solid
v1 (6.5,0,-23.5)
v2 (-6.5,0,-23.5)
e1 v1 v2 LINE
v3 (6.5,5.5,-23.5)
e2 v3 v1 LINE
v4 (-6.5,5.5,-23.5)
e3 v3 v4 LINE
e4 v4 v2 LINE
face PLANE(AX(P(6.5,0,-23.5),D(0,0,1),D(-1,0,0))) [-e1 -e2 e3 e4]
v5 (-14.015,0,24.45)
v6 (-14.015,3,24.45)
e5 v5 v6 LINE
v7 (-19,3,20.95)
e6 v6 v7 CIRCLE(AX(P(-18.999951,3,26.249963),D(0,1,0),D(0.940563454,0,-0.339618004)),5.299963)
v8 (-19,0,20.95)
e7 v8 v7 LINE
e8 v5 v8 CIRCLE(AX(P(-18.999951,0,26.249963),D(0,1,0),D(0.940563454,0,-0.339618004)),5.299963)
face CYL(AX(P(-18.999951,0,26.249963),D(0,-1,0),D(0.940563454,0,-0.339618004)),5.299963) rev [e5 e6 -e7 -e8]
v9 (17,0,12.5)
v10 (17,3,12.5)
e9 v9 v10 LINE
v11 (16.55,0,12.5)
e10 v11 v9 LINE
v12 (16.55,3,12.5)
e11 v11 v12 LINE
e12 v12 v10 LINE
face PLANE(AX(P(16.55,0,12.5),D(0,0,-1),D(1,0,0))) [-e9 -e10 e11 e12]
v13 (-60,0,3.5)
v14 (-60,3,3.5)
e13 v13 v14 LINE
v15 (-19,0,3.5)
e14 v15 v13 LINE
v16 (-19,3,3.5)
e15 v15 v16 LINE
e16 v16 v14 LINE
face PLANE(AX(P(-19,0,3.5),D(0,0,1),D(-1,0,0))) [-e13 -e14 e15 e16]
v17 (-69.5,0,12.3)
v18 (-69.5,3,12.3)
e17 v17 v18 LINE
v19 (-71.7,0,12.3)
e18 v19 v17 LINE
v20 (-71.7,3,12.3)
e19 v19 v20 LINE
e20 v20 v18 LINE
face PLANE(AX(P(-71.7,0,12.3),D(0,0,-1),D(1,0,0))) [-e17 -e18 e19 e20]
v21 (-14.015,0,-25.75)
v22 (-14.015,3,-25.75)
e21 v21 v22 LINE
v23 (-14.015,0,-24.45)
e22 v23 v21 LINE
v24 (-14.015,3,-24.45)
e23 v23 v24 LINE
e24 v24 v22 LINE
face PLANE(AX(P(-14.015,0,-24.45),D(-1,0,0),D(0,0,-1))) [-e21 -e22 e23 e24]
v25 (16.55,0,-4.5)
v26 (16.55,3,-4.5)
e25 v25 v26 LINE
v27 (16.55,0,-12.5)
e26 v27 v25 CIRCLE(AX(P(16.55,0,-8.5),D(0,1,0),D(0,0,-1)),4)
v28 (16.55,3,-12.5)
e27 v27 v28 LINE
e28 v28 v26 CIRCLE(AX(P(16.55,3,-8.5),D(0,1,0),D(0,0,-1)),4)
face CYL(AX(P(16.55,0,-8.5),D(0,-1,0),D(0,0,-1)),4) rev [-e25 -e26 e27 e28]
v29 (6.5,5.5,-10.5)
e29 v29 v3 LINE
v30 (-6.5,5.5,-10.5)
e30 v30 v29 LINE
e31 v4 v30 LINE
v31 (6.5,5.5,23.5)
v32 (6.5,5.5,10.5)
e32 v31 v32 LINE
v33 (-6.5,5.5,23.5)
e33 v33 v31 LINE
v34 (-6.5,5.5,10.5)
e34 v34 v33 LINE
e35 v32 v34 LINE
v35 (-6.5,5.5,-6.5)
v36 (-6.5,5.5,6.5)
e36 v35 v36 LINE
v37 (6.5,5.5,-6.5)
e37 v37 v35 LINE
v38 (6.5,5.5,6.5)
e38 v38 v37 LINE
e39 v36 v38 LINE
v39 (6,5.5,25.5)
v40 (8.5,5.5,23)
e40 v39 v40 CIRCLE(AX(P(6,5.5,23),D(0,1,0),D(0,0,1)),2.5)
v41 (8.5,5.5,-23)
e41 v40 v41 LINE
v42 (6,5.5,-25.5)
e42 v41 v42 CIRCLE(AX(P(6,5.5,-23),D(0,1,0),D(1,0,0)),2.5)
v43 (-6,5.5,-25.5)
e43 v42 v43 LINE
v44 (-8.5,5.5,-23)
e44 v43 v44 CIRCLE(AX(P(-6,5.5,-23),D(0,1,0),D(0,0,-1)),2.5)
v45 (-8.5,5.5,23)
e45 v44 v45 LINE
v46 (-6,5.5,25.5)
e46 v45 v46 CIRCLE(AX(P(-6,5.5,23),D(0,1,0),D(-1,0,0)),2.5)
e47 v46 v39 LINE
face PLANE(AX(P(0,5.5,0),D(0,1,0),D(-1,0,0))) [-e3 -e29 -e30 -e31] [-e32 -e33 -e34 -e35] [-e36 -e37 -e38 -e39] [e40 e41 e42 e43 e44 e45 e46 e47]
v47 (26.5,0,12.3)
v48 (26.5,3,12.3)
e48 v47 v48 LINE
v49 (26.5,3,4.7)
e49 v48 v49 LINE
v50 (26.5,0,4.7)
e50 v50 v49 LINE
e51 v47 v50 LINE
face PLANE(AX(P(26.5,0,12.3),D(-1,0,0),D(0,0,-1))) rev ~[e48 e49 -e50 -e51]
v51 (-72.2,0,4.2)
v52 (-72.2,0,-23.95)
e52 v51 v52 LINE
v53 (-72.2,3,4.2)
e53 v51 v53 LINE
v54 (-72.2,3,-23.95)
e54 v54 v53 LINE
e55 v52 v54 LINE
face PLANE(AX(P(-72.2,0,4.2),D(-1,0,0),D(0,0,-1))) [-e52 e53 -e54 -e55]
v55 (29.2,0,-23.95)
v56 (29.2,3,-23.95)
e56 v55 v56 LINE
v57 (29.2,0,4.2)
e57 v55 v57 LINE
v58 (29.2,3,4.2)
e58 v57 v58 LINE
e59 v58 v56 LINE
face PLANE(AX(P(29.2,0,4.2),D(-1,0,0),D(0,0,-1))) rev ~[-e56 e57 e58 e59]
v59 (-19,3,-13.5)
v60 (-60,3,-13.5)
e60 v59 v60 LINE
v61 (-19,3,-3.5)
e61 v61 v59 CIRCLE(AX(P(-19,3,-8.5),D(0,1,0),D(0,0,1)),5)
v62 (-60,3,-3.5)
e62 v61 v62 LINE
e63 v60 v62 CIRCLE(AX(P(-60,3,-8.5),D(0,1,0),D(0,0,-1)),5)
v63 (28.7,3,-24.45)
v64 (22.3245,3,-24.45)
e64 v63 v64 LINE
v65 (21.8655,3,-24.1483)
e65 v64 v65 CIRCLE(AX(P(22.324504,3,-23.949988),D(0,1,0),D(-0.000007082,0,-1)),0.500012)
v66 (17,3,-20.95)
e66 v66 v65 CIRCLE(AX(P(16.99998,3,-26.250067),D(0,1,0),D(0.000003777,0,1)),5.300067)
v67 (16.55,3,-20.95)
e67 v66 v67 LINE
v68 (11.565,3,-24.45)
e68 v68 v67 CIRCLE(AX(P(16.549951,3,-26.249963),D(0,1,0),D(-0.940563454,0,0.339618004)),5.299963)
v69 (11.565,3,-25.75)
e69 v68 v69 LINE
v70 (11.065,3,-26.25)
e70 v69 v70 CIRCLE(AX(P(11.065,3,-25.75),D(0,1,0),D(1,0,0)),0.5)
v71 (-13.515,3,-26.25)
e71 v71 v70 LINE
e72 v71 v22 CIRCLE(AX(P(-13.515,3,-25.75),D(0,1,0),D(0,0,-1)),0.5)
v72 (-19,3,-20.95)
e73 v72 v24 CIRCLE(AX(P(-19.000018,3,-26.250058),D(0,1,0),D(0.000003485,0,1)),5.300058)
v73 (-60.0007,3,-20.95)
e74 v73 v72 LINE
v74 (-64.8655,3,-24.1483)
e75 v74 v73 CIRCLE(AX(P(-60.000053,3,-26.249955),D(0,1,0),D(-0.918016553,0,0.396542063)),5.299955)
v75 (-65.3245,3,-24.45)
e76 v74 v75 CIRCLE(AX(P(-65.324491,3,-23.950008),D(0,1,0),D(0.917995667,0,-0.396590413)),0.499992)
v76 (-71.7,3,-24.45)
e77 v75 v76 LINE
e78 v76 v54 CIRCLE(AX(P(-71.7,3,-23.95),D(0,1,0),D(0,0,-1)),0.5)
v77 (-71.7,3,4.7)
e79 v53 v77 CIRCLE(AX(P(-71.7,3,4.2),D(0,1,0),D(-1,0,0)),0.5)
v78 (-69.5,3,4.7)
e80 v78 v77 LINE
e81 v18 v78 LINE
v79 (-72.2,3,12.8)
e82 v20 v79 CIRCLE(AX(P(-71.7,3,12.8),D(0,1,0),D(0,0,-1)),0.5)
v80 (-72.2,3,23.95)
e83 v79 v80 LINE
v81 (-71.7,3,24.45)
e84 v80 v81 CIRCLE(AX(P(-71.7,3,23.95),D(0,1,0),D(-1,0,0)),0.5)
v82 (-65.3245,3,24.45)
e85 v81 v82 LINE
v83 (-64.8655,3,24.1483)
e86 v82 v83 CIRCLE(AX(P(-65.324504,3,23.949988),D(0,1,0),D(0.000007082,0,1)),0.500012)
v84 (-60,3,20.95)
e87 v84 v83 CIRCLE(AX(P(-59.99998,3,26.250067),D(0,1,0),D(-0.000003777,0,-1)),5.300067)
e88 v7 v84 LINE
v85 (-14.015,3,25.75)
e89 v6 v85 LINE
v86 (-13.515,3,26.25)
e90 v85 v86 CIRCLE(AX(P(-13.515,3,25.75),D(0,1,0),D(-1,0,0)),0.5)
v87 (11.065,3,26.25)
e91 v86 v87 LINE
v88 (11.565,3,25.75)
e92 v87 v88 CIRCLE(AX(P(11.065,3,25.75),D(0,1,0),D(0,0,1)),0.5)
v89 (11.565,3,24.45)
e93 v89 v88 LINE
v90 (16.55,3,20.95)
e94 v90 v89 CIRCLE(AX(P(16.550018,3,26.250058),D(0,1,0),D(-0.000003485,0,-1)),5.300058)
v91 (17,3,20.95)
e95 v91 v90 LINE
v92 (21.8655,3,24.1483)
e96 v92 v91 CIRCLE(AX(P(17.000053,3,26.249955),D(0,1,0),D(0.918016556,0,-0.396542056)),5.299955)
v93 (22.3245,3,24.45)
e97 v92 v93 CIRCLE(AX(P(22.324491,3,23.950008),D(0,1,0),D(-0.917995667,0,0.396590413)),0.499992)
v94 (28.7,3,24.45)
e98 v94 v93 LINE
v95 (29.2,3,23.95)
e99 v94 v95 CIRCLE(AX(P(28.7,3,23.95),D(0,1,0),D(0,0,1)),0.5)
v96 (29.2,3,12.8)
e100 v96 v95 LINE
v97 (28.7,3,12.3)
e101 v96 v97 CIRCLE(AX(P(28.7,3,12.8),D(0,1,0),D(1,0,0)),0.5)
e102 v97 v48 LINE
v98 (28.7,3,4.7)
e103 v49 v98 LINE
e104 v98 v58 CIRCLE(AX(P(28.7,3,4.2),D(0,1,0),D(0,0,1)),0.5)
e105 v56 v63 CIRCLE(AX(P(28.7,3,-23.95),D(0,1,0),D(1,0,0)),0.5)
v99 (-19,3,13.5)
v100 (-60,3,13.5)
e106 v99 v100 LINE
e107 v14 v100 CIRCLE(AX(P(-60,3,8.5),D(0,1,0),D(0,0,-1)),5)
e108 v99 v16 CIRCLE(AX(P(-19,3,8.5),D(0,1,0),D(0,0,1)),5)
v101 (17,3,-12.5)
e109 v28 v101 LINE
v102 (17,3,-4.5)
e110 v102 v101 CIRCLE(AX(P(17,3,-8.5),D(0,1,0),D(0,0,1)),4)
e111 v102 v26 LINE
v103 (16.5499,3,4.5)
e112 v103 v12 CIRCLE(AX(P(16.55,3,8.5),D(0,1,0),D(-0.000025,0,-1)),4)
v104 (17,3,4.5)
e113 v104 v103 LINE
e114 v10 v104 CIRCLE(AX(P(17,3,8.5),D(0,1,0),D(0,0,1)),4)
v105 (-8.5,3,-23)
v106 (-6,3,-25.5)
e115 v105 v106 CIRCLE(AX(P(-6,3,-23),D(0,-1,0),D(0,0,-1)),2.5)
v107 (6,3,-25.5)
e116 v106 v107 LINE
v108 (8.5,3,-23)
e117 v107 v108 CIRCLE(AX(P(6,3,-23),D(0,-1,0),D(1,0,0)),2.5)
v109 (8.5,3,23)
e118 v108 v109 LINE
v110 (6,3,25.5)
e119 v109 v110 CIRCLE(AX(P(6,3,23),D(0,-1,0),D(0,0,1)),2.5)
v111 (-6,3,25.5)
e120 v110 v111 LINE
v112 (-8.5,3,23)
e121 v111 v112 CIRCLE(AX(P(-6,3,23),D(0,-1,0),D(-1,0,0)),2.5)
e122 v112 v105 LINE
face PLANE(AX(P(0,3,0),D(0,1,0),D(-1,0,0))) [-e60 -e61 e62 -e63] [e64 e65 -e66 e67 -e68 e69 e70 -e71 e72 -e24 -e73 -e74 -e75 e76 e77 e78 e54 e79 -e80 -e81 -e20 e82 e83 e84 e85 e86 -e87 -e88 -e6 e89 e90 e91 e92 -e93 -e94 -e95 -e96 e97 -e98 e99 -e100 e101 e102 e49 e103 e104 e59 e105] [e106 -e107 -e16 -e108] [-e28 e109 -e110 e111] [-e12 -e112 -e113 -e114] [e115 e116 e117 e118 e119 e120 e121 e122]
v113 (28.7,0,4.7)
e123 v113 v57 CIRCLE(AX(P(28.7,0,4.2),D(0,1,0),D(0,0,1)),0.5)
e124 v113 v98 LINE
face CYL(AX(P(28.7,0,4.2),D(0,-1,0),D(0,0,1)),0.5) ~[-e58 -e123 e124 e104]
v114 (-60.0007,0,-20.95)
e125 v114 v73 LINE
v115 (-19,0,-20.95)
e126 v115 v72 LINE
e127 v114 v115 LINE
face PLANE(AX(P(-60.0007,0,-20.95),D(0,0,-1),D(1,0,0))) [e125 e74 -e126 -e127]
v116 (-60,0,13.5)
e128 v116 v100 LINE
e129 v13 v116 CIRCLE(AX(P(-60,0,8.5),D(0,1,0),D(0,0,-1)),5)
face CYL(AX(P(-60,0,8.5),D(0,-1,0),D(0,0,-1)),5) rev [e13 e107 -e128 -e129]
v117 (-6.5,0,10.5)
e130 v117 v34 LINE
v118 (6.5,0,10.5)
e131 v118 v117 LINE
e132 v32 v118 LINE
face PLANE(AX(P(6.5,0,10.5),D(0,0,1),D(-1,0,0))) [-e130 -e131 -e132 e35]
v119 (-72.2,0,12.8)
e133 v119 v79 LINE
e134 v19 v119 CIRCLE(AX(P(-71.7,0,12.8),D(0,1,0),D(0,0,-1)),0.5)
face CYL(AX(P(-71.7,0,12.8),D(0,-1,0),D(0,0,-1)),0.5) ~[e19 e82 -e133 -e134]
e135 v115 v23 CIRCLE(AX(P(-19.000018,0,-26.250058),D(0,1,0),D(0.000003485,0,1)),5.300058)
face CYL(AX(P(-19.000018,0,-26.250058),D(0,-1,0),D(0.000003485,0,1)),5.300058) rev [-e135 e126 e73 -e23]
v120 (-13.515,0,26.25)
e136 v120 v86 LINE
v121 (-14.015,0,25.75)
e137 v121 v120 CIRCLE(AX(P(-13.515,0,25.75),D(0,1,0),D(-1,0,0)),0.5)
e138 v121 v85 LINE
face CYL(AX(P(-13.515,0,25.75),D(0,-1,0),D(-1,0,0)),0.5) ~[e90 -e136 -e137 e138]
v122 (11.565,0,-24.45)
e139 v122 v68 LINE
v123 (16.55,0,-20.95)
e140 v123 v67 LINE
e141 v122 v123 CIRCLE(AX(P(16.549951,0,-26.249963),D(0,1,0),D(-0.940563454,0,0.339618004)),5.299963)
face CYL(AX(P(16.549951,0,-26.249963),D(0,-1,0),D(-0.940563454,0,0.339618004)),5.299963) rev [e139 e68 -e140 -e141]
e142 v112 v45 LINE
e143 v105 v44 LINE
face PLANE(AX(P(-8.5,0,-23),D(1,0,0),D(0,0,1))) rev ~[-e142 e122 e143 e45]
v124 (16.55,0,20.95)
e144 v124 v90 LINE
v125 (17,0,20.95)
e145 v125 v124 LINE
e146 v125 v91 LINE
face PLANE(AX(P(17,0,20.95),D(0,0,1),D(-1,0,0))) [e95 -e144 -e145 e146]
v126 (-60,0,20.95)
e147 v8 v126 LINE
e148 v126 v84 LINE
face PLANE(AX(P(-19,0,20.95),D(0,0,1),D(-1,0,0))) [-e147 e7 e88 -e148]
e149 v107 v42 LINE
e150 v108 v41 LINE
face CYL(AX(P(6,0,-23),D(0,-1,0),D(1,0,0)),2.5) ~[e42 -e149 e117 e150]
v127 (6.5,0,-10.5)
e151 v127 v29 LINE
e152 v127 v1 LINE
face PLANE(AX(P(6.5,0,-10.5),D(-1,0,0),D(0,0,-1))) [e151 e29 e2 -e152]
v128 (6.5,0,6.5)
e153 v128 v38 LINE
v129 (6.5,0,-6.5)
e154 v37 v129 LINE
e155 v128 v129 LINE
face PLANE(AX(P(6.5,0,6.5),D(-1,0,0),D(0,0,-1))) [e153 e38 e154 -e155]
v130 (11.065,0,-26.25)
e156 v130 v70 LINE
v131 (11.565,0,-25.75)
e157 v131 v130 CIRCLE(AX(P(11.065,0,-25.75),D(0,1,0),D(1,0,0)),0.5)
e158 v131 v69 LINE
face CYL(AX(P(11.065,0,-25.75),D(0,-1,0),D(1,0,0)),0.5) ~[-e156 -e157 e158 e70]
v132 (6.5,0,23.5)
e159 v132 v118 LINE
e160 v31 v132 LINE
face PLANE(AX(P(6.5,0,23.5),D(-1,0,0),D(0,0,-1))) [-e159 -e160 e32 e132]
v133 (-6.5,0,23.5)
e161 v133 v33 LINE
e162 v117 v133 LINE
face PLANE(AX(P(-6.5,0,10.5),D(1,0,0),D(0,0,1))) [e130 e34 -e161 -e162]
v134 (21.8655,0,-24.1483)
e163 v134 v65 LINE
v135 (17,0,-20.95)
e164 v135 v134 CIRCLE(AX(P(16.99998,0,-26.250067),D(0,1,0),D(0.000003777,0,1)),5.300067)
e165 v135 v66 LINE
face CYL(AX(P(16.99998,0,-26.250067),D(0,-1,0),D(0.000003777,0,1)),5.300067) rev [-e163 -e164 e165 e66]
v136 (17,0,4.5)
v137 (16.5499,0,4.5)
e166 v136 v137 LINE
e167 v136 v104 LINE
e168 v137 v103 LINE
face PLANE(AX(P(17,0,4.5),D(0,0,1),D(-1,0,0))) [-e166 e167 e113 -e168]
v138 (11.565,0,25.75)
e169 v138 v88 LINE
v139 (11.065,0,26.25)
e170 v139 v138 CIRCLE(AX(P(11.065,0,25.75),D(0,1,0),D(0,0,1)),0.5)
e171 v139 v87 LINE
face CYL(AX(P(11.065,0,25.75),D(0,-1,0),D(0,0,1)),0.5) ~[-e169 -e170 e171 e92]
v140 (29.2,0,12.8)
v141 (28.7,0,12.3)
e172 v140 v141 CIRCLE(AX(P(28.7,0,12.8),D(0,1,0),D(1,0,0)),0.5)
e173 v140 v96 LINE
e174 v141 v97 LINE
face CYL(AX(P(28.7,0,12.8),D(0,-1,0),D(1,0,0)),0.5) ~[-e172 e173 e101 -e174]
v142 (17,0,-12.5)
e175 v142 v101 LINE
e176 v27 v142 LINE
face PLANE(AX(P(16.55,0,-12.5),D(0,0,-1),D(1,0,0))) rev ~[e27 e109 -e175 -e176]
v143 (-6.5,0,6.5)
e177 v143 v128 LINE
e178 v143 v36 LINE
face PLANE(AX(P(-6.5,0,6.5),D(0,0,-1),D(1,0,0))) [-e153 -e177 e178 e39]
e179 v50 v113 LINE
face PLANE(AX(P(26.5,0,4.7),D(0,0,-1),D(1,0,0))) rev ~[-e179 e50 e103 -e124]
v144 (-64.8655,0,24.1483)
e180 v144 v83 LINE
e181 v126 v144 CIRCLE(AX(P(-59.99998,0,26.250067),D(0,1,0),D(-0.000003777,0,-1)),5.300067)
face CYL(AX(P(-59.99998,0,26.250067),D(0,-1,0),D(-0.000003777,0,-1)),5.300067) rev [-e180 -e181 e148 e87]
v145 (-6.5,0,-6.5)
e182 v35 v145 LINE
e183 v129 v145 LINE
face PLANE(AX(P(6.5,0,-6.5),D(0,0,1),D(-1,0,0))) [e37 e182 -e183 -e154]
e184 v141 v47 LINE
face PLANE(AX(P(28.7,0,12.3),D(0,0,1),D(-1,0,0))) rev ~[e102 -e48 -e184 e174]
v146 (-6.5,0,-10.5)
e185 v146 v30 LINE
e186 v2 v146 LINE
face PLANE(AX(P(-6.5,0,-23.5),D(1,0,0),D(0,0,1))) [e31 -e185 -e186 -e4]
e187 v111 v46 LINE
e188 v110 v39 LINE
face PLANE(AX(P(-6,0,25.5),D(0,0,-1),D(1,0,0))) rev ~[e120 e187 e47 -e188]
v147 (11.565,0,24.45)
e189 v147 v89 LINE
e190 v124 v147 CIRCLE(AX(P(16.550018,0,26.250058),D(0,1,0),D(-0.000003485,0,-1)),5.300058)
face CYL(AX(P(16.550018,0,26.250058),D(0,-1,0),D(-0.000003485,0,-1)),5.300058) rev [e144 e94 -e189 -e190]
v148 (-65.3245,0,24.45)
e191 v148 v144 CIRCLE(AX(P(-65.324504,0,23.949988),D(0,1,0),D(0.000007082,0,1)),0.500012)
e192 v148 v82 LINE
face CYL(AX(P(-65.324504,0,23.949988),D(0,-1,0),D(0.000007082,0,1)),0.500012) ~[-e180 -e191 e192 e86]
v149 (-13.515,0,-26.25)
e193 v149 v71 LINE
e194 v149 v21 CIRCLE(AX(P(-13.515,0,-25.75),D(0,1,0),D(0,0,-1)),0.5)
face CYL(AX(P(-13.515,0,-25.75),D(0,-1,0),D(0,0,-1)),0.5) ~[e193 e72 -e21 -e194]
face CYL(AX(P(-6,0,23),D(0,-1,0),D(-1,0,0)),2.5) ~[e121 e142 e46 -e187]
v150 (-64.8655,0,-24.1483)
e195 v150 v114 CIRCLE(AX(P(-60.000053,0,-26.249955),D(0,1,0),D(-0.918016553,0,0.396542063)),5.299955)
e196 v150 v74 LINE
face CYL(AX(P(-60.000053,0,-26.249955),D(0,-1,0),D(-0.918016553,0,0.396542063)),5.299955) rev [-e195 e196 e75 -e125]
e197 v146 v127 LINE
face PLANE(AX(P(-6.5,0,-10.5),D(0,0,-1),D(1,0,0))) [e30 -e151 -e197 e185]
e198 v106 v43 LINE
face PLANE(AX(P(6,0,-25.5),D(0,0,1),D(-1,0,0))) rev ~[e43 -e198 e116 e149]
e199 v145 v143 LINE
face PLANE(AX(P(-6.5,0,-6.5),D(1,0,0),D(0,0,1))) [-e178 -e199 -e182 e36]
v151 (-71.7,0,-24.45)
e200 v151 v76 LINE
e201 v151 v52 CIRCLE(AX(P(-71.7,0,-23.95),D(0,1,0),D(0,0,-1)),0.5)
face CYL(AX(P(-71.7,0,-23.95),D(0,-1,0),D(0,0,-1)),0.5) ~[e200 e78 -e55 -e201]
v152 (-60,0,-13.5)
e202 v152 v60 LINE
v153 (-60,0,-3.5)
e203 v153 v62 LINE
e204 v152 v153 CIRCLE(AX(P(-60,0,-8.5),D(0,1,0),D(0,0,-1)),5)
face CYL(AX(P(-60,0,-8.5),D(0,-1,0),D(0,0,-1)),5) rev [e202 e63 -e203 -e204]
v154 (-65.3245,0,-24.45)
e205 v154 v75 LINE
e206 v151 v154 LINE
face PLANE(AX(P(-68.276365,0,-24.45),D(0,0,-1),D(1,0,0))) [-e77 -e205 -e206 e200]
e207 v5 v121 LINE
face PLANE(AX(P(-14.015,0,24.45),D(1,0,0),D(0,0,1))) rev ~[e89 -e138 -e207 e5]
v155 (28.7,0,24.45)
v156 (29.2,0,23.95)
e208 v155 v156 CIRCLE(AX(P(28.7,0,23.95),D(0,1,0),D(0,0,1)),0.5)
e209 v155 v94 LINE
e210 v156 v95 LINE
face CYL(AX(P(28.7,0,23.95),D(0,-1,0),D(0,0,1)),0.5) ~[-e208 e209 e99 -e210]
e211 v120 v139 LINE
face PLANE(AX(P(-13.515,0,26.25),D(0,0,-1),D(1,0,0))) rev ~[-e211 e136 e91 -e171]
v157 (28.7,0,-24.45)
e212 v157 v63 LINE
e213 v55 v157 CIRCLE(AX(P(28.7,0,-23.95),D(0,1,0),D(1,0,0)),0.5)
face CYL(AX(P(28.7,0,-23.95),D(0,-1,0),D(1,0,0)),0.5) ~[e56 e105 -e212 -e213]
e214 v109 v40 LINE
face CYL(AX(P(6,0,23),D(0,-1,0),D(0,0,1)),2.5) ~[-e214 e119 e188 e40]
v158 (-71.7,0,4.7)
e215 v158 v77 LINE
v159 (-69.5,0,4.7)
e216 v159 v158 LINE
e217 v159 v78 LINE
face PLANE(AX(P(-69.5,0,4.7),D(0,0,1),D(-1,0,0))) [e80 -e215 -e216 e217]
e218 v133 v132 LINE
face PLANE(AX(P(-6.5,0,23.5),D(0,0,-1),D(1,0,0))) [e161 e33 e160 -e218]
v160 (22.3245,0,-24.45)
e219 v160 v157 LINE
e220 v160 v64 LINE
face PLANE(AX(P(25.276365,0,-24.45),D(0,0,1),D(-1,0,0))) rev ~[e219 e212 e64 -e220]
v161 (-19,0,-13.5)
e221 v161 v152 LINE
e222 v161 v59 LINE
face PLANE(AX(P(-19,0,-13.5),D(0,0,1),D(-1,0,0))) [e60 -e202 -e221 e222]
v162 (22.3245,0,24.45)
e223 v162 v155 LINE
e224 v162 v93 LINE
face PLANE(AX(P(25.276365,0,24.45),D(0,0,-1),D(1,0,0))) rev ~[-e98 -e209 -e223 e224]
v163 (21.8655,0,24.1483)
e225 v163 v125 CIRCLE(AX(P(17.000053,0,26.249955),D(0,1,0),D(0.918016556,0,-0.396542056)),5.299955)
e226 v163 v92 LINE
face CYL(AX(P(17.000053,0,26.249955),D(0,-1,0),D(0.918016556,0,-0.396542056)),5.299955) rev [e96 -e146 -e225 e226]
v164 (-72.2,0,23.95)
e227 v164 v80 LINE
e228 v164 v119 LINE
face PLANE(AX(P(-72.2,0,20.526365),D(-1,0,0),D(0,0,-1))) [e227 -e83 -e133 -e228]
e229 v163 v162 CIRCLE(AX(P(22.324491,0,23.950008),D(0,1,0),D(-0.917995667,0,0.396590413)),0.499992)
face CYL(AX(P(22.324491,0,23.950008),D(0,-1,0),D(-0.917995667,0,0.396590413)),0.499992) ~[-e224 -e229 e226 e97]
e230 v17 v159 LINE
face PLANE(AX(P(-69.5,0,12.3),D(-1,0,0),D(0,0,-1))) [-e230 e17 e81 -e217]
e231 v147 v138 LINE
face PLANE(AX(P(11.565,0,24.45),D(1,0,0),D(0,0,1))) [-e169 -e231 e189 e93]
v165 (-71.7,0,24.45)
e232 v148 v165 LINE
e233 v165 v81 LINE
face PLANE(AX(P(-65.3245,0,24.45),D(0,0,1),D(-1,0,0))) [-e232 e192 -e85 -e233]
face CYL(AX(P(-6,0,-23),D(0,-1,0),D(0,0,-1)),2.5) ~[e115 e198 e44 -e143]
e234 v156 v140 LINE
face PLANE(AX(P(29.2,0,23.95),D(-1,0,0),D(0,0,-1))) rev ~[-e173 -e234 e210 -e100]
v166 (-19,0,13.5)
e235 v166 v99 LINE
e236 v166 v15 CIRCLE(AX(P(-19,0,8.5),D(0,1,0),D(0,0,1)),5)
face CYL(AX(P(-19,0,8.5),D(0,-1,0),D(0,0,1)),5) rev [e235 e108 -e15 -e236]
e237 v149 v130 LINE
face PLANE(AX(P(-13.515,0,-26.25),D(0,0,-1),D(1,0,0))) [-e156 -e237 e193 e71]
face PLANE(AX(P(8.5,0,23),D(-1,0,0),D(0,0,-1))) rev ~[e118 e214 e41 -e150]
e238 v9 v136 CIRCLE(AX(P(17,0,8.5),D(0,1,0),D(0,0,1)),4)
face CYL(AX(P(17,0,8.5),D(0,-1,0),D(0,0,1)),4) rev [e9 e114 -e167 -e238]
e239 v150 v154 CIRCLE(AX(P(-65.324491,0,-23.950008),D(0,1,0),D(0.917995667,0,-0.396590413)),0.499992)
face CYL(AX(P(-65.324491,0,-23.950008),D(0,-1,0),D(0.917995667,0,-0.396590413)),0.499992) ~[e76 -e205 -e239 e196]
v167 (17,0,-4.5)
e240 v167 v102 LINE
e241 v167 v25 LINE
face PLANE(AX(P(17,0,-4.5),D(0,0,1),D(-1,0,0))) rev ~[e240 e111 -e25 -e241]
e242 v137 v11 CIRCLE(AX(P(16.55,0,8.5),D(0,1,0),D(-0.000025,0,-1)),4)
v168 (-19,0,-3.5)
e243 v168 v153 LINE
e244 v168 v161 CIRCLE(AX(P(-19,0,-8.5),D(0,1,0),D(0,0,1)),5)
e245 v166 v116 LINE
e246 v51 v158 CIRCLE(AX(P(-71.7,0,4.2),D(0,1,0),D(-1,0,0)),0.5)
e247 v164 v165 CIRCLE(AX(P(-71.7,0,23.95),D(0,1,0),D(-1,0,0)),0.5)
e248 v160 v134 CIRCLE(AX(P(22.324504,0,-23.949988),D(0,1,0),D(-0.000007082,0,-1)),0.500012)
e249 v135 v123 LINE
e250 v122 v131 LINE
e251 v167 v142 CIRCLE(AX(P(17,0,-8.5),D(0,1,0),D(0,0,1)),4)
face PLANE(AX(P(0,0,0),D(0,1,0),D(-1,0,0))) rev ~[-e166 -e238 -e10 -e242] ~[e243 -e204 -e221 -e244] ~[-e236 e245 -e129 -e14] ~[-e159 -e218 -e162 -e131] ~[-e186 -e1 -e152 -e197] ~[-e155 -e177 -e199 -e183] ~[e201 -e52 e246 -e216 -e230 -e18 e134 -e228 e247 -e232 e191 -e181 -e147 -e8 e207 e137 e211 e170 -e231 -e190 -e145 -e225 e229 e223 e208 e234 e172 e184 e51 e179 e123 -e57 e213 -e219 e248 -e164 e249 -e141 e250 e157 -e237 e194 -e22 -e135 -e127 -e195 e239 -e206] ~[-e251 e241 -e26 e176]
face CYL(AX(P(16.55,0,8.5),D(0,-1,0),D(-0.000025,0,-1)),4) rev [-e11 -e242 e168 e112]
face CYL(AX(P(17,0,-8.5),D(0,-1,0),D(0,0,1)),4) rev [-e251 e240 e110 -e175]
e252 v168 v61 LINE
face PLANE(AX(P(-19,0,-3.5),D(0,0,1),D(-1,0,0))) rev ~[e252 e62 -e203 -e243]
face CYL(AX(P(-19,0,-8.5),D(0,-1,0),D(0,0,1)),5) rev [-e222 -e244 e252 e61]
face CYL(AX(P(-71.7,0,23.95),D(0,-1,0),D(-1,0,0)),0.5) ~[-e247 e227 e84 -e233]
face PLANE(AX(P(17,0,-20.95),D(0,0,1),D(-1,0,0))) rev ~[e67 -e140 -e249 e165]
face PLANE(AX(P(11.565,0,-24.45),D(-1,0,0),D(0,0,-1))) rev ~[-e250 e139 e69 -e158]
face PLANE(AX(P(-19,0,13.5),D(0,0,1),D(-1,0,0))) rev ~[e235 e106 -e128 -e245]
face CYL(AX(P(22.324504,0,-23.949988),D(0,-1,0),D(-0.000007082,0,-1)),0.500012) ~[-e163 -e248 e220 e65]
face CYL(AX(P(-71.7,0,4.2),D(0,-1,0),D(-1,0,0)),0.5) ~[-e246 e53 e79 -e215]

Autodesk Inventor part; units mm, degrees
ref_plane "YZ Plane" through (0, 0, 0) normal (1, 0, 0) x (0, 1, 0)
ref_plane "XZ Plane" through (0, 0, 0) normal (0, 1, 0) x (-1, 0, 0)
ref_plane "XY Plane" through (0, 0, 0) normal (0, 0, 1) x (1, 0, 0)
sketch "Sketch1" plane through (0, 0, 0) normal (0, 1, 0) x (-1, 0, 0)
  line L0 (6.5, 23.5) -> (-6.5, 23.5)
  line L1 (-6.5, 23.5) -> (-6.5, 10.5)
  line L2 (-6.5, 10.5) -> (6.5, 10.5)
  line L3 (6.5, 10.5) -> (6.5, 23.5)
  line L4 (56.9183, 17) -> (21.35, 17) construction
  line L5 (69.8, -24.75) -> (69.8, -20.1) construction
  line L6 (-26.8, 24.75) -> (-26.8, -24.75) construction
  line L7 (9, 15.5) -> (6.5, 15.5) construction
  line L8 (6.5, 18.5) -> (9, 18.5) construction
  line L9 (-6.5, 15.5) -> (-9, 15.5) construction
  line L10 (-9, 18.5) -> (-6.5, 18.5) construction
  line L11 (-11.8, 18.5) -> (-24.5, 18.5) construction
  line L12 (-11.8, 15.5) -> (-24.5, 15.5) construction
  line L13 (-31, 8.5) -> (74, 8.5) construction
  line L14 (67.5, 20.5) -> (66, 20.5) construction
  line L15 (66, 13.5) -> (67.5, 13.5) construction
  line L16 (-31, 26.25) -> (-31, -26.25) construction
  line L17 (21.35, -8.5) -> (74, -8.5) construction
  line L18 (0, 20.0147) -> (0, -26.25) construction
  line L19 (56.8064, 0) -> (21.35, 0) construction
  line L20 (-6.5, 6.5) -> (-6.5, -6.5)
  line L21 (6.5, 6.5) -> (-6.5, 6.5)
  line L22 (6.5, -6.5) -> (6.5, 6.5)
  line L23 (-6.5, -6.5) -> (6.5, -6.5)
  line L24 (6.5, 1.5) -> (9, 1.5) construction
  line L25 (9, -1.5) -> (6.5, -1.5) construction
  line L26 (67.5, 3.5) -> (66, 3.5) construction
  line L27 (66, -3.5) -> (67.5, -3.5) construction
  line L28 (-6.5, -10.5) -> (-6.5, -23.5)
  line L29 (6.5, -10.5) -> (-6.5, -10.5)
  line L30 (6.5, -23.5) -> (6.5, -10.5)
  line L31 (-6.5, -23.5) -> (6.5, -23.5)
  line L32 (56.3008, -17) -> (21.35, -17) construction
  line L33 (67.5, -13.5) -> (66, -13.5) construction
  line L34 (66, -20.5) -> (67.5, -20.5) construction
  line L35 (9, -18.5) -> (6.5, -18.5) construction
  line L36 (6.5, -15.5) -> (9, -15.5) construction
  line L37 (74, 5) -> (72.5, 5) construction
  line L38 (69.8, 12) -> (72.5, 12) construction
  line L39 (-9, -15.5) -> (-6.5, -15.5) construction
  line L40 (-6.5, -18.5) -> (-9, -18.5) construction
  line L41 (-11.8, -18.5) -> (-24.5, -18.5) construction
  line L42 (-9, 1.5) -> (-6.5, 1.5) construction
  line L43 (-6.5, -1.5) -> (-9, -1.5) construction
  line L44 (-11.8, -1.5) -> (-24.5, -1.5) construction
  line L45 (-29.5, 5) -> (-31, 5) construction
  line L46 (-31, 12) -> (-29.5, 12) construction
  line L47 (67.5, 5.5) -> (66, 5.5) construction
  line L48 (66, 5.5) -> (66, 11.5) construction
  line L49 (66, 11.5) -> (67.5, 11.5) construction
  line L50 (-24.5, 5.5) -> (-23.5, 5.5) construction
  line L51 (-23.5, 5.5) -> (-23.5, 11.5) construction
  line L52 (-23.5, 11.5) -> (-24.5, 11.5) construction
  line L53 (-25, 24.75) -> (-25, 19) construction
  line L54 (-25, 5) -> (-25, 2) construction
  arc A0 (19, 13.5) -> (19, 3.5) centre (19, 8.5) ccw
  arc A1 (60, 3.5) -> (60, 13.5) centre (60, 8.5) ccw
  arc A2 (19, -3.5) -> (19, -13.5) centre (19, -8.5) ccw
  arc A3 (60, -13.5) -> (60, -3.5) centre (60, -8.5) ccw
  line L55 (19, 13.5) -> (60, 13.5)
  line L56 (19, 3.5) -> (60, 3.5)
  line L57 (19, -3.5) -> (60, -3.5)
  line L58 (19, -13.5) -> (60, -13.5)
  arc A4 (-16.55, -12.5) -> (-16.55, -4.5) centre (-16.55, -8.5) ccw
  line L59 (72.5, -24.75) -> (72.5, -19.6) construction
  line L60 (-29.5, 24.75) -> (-29.5, 12) construction
  arc A5 (-17, -4.5) -> (-17, -12.5) centre (-17, -8.5) ccw
  arc A6 (-17, 12.5) -> (-17, 4.5) centre (-17, 8.5) ccw
  line L61 (-16.55, -12.5) -> (-17, -12.5)
  line L62 (-17, -4.5) -> (-16.55, -4.5)
  line L63 (-17, 4.5) -> (-16.5499, 4.5)
  line L64 (-16.55, 12.5) -> (-17, 12.5)
  arc A7 (-16.5499, 4.5) -> (-16.55, 12.5) centre (-16.55, 8.5) ccw
  line L65 (58.8763, -15.5) -> (11.8, -15.5) construction
  line L66 (58.8763, -18.5) -> (11.8, -18.5) construction
  line L67 (58.8763, -1.5) -> (11.8, -1.5) construction
  line L68 (58.8763, 1.5) -> (11.8, 1.5) construction
  line L69 (58.8763, 15.5) -> (11.8, 15.5) construction
  line L70 (58.8763, 18.5) -> (11.8, 18.5) construction
  arc A8 (61, -14.4) -> (58.8763, -15.5) centre (61, -17) ccw construction
  arc A9 (58.8763, -18.5) -> (61, -19.6) centre (61, -17) ccw construction
  arc A10 (61, 2.6) -> (58.8763, 1.5) centre (61, 0) ccw construction
  arc A11 (58.8763, -1.5) -> (61, -2.6) centre (61, 0) ccw construction
  arc A12 (61, 19.6) -> (58.8763, 18.5) centre (61, 17) ccw construction
  arc A13 (58.8763, 15.5) -> (61, 14.4) centre (61, 17) ccw construction
  arc A14 (63.5, -26.25) -> (60, -22.75) centre (60, -26.25) ccw construction
  arc A15 (19, -22.75) -> (15.5, -26.25) centre (19, -26.25) ccw construction
  arc A16 (64.7697, -24.75) -> (60, -21.25) centre (60, -26.25) ccw construction
  line L71 (60, -21.25) -> (19, -21.25) construction
  line L72 (63.5, -26.25) -> (74, -26.25) construction
  line L73 (60, -22.75) -> (19, -22.75) construction
  arc A17 (19, -21.25) -> (14.2303, -24.75) centre (19, -26.25) ccw construction
  arc A18 (14.2303, 24.75) -> (19, 21.25) centre (19, 26.25) ccw construction
  arc A19 (15.5, 26.25) -> (19, 22.75) centre (19, 26.25) ccw construction
  line L74 (60, 22.75) -> (19, 22.75) construction
  line L75 (60, 21.25) -> (19, 21.25) construction
  line L76 (64.7697, 24.75) -> (69.8, 24.75) construction
  line L77 (74, 26.25) -> (63.5, 26.25) construction
  arc A20 (60, 22.75) -> (63.5, 26.25) centre (60, 26.25) ccw construction
  arc A21 (60, 21.25) -> (64.7697, 24.75) centre (60, 26.25) ccw construction
  arc A22 (-13.05, -26.25) -> (-16.55, -22.75) centre (-16.55, -26.25) ccw construction
  arc A23 (-17, -22.75) -> (-20.5, -26.25) centre (-17, -26.25) ccw construction
  line L78 (-16.55, -21.25) -> (-17, -21.25) construction
  line L79 (-16.55, -22.75) -> (-17, -22.75) construction
  arc A24 (-17, -21.25) -> (-21.7697, -24.75) centre (-17, -26.25) ccw construction
  arc A25 (-11.7803, -24.75) -> (-16.55, -21.25) centre (-16.55, -26.25) ccw construction
  line L80 (14.2303, -24.75) -> (-11.7803, -24.75) construction
  line L81 (-21.7697, -24.75) -> (-29.5, -24.75) construction
  line L82 (-31, -26.25) -> (-20.5, -26.25) construction
  line L83 (-13.05, -26.25) -> (15.5, -26.25) construction
  line L84 (-16.55, 21.25) -> (-17, 21.25) construction
  line L85 (-16.55, 22.75) -> (-17, 22.75) construction
  arc A26 (-20.5, 26.25) -> (-17, 22.75) centre (-17, 26.25) ccw construction
  arc A27 (-16.55, 22.75) -> (-13.05, 26.25) centre (-16.55, 26.25) ccw construction
  arc A28 (-21.7697, 24.75) -> (-17, 21.25) centre (-17, 26.25) ccw construction
  arc A29 (-16.55, 21.25) -> (-11.7803, 24.75) centre (-16.55, 26.25) ccw construction
  line L86 (15.5, 26.25) -> (-13.05, 26.25) construction
  line L87 (-20.5, 26.25) -> (-31, 26.25) construction
  line L88 (-29.5, 24.75) -> (-21.7697, 24.75) construction
  line L89 (-11.7803, 24.75) -> (14.2303, 24.75) construction
  line L90 (14.2303, -24.75) -> (14.2303, -26.25) construction
  line L91 (-11.7803, -24.75) -> (-11.7803, -26.25) construction
  line L92 (-11.7803, 24.75) -> (-11.7803, 26.25) construction
  line L93 (14.2303, 24.75) -> (14.2303, 26.25) construction
  line L94 (72.5, 12) -> (74, 12) construction
  line L95 (72.5, 5) -> (69.8, 5) construction
  line L96 (-26.8, 12) -> (-29.5, 12) construction
  line L97 (-26.8, 5) -> (-29.5, 5) construction
  line L98 (11.3, -21) -> (9.5, -21) construction
  line L99 (9.5, -13) -> (11.3, -13) construction
  line L100 (11.3, -4) -> (9.5, -4) construction
  line L101 (9.5, 4) -> (11.3, 4) construction
  line L102 (11.3, 13) -> (9.5, 13) construction
  line L103 (9.5, 21) -> (11.3, 21) construction
  line L104 (-9.5, -21) -> (-11.3, -21) construction
  line L105 (-11.3, -13) -> (-9.5, -13) construction
  line L106 (-9.5, -4) -> (-11.3, -4) construction
  line L107 (-11.3, 4) -> (-9.5, 4) construction
  line L108 (-9.5, 13) -> (-11.3, 13) construction
  line L109 (-11.3, 21) -> (-9.5, 21) construction
  line L110 (11.3, -13) -> (11.3, -15) construction
  line L111 (11.3, -19) -> (11.3, -21) construction
  line L112 (9.5, -21) -> (9.5, -19) construction
  line L113 (9.5, -15) -> (9.5, -13) construction
  line L114 (11.3, 4) -> (11.3, 2) construction
  line L115 (11.3, -2) -> (11.3, -4) construction
  line L116 (9.5, -4) -> (9.5, -2) construction
  line L117 (9.5, 2) -> (9.5, 4) construction
  line L118 (11.3, 21) -> (11.3, 19) construction
  line L119 (11.3, 15) -> (11.3, 13) construction
  line L120 (9.5, 13) -> (9.5, 15) construction
  line L121 (9.5, 19) -> (9.5, 21) construction
  line L122 (-9.5, -13) -> (-9.5, -15) construction
  line L123 (-9.5, -19) -> (-9.5, -21) construction
  line L124 (-11.3, -21) -> (-11.3, -19) construction
  line L125 (-11.3, -15) -> (-11.3, -13) construction
  line L126 (-9.5, 4) -> (-9.5, 2) construction
  line L127 (-9.5, -2) -> (-9.5, -4) construction
  line L128 (-11.3, -4) -> (-11.3, -2) construction
  line L129 (-11.3, 2) -> (-11.3, 4) construction
  line L130 (-9.5, 21) -> (-9.5, 19) construction
  line L131 (-9.5, 15) -> (-9.5, 13) construction
  line L132 (-11.3, 13) -> (-11.3, 15) construction
  line L133 (-11.3, 19) -> (-11.3, 21) construction
  line L134 (67.5, -11.5) -> (66, -11.5) construction
  line L135 (66, -11.5) -> (66, -5.5) construction
  line L136 (66, -5.5) -> (67.5, -5.5) construction
  line L137 (68, -21) -> (68, -24.75) construction
  arc A30 (9.5, -19) -> (9, -18.5) centre (9, -19) ccw construction
  arc A31 (11.8, -18.5) -> (11.3, -19) centre (11.8, -19) ccw construction
  arc A32 (11.3, -15) -> (11.8, -15.5) centre (11.8, -15) ccw construction
  arc A33 (9, -15.5) -> (9.5, -15) centre (9, -15) ccw construction
  arc A34 (9.5, -2) -> (9, -1.5) centre (9, -2) ccw construction
  arc A35 (11.8, -1.5) -> (11.3, -2) centre (11.8, -2) ccw construction
  arc A36 (11.3, 2) -> (11.8, 1.5) centre (11.8, 2) ccw construction
  arc A37 (9, 1.5) -> (9.5, 2) centre (9, 2) ccw construction
  arc A38 (9.5, 15) -> (9, 15.5) centre (9, 15) ccw construction
  arc A39 (11.8, 15.5) -> (11.3, 15) centre (11.8, 15) ccw construction
  arc A40 (11.3, 19) -> (11.8, 18.5) centre (11.8, 19) ccw construction
  arc A41 (9, 18.5) -> (9.5, 19) centre (9, 19) ccw construction
  arc A42 (-9.5, 19) -> (-9, 18.5) centre (-9, 19) ccw construction
  arc A43 (-11.8, 18.5) -> (-11.3, 19) centre (-11.8, 19) ccw construction
  arc A44 (-11.3, 15) -> (-11.8, 15.5) centre (-11.8, 15) ccw construction
  arc A45 (-9, 15.5) -> (-9.5, 15) centre (-9, 15) ccw construction
  arc A46 (-9.5, 2) -> (-9, 1.5) centre (-9, 2) ccw construction
  arc A47 (-11.8, 1.5) -> (-11.3, 2) centre (-11.8, 2) ccw construction
  arc A48 (-11.3, -2) -> (-11.8, -1.5) centre (-11.8, -2) ccw construction
  arc A49 (-9, -1.5) -> (-9.5, -2) centre (-9, -2) ccw construction
  arc A50 (-9.5, -15) -> (-9, -15.5) centre (-9, -15) ccw construction
  arc A51 (-11.8, -15.5) -> (-11.3, -15) centre (-11.8, -15) ccw construction
  arc A52 (-9, -18.5) -> (-9.5, -19) centre (-9, -19) ccw construction
  arc A53 (-11.3, -19) -> (-11.8, -18.5) centre (-11.8, -19) ccw construction
  line L138 (65.5, -19.6) -> (61, -19.6) construction
  line L139 (66, -13.5) -> (66, -13.9) construction
  line L140 (61, -14.4) -> (65.5, -14.4) construction
  line L141 (65.5, -2.6) -> (61, -2.6) construction
  line L142 (66, 3.5) -> (66, 3.1) construction
  line L143 (66, -3.1) -> (66, -3.5) construction
  line L144 (61, 2.6) -> (65.5, 2.6) construction
  line L145 (65.5, 14.4) -> (61, 14.4) construction
  line L146 (66, 20.5) -> (66, 20.1) construction
  line L147 (66, 13.9) -> (66, 13.5) construction
  line L148 (61, 19.6) -> (65.5, 19.6) construction
  arc A54 (65.5, -14.4) -> (66, -13.9) centre (65.5, -13.9) ccw construction
  arc A55 (68, -12) -> (67.5, -11.5) centre (67.5, -12) ccw construction
  arc A56 (67.5, -5.5) -> (68, -5) centre (67.5, -5) ccw construction
  arc A57 (68, 5) -> (67.5, 5.5) centre (67.5, 5) ccw construction
  arc A58 (67.5, 11.5) -> (68, 12) centre (67.5, 12) ccw construction
  arc A59 (66, -3.1) -> (65.5, -2.6) centre (65.5, -3.1) ccw construction
  arc A60 (65.5, 2.6) -> (66, 3.1) centre (65.5, 3.1) ccw construction
  arc A61 (66, 13.9) -> (65.5, 14.4) centre (65.5, 13.9) ccw construction
  arc A62 (65.5, 19.6) -> (66, 20.1) centre (65.5, 20.1) ccw construction
  line L149 (72.5, -2.6) -> (72.5, 2.6) construction
  line L150 (72.5, -2.6) -> (70.3, -2.6) construction
  line L151 (66, -20.5) -> (66, -20.1) construction
  arc A63 (66, -20.1) -> (65.5, -19.6) centre (65.5, -20.1) ccw construction
  line L152 (68, -13) -> (68, -12) construction
  line L153 (68, 4) -> (68, 5) construction
  line L154 (68, 21) -> (68, 24.75) construction
  line L155 (72.5, -19.6) -> (72.5, -14.4) construction
  line L156 (72.5, -19.6) -> (70.3, -19.6) construction
  line L157 (72.5, -24.75) -> (69.8, -24.75) construction
  line L158 (69.8, -24.75) -> (68, -24.75) construction
  line L159 (68, -24.75) -> (64.7697, -24.75) construction
  line L160 (70.3, -14.4) -> (72.5, -14.4) construction
  line L161 (72.5, -14.4) -> (72.5, -2.6) construction
  line L162 (69.8, -13.9) -> (69.8, -3.1) construction
  line L163 (68, -4) -> (68, -5) construction
  line L164 (72.5, 2.6) -> (72.5, 5) construction
  line L165 (70.3, 2.6) -> (72.5, 2.6) construction
  line L166 (69.8, 3.1) -> (69.8, 5) construction
  line L167 (72.5, 14.4) -> (72.5, 19.6) construction
  line L168 (72.5, 14.4) -> (70.3, 14.4) construction
  line L169 (74, -26.25) -> (74, 26.25) construction
  line L170 (72.5, 19.6) -> (72.5, 24.75) construction
  line L171 (69.8, 20.1) -> (69.8, 24.75) construction
  line L172 (70.3, 19.6) -> (72.5, 19.6) construction
  line L173 (72.5, 12) -> (72.5, 14.4) construction
  line L174 (69.8, 24.75) -> (72.5, 24.75) construction
  line L175 (69.8, 12) -> (69.8, 13.9) construction
  line L176 (68, 13) -> (68, 12) construction
  arc A64 (67.5, -13.5) -> (68, -13) centre (67.5, -13) ccw construction
  arc A65 (68, -4) -> (67.5, -3.5) centre (67.5, -4) ccw construction
  arc A66 (67.5, 3.5) -> (68, 4) centre (67.5, 4) ccw construction
  arc A67 (68, 13) -> (67.5, 13.5) centre (67.5, 13) ccw construction
  arc A68 (67.5, 20.5) -> (68, 21) centre (67.5, 21) ccw construction
  arc A69 (70.3, -19.6) -> (69.8, -20.1) centre (70.3, -20.1) ccw construction
  arc A70 (69.8, -13.9) -> (70.3, -14.4) centre (70.3, -13.9) ccw construction
  arc A71 (70.3, -2.6) -> (69.8, -3.1) centre (70.3, -3.1) ccw construction
  arc A72 (69.8, 3.1) -> (70.3, 2.6) centre (70.3, 3.1) ccw construction
  arc A73 (70.3, 14.4) -> (69.8, 13.9) centre (70.3, 13.9) ccw construction
  arc A74 (69.8, 20.1) -> (70.3, 19.6) centre (70.3, 20.1) ccw construction
  line L177 (69.8, 5) -> (69.8, 12) construction
  line L178 (-25, 15) -> (-25, 12) construction
  line L179 (-24.5, 1.5) -> (-11.8, 1.5) construction
  line L180 (-25, -2) -> (-25, -15) construction
  line L181 (-25, -19) -> (-25, -24.75) construction
  line L182 (-24.5, -15.5) -> (-11.8, -15.5) construction
  line L183 (-29.5, 5) -> (-29.5, -24.75) construction
  arc A75 (-25, 19) -> (-24.5, 18.5) centre (-24.5, 19) ccw construction
  arc A76 (-24.5, 15.5) -> (-25, 15) centre (-24.5, 15) ccw construction
  arc A77 (-25, 12) -> (-24.5, 11.5) centre (-24.5, 12) ccw construction
  arc A78 (-24.5, 5.5) -> (-25, 5) centre (-24.5, 5) ccw construction
  arc A79 (-25, 2) -> (-24.5, 1.5) centre (-24.5, 2) ccw construction
  arc A80 (-24.5, -1.5) -> (-25, -2) centre (-24.5, -2) ccw construction
  arc A81 (-25, -15) -> (-24.5, -15.5) centre (-24.5, -15) ccw construction
  arc A82 (-24.5, -18.5) -> (-25, -19) centre (-24.5, -19) ccw construction
  arc A83 (68, -21) -> (67.5, -20.5) centre (67.5, -21) ccw construction
  line L184 (-29.2, 23.95) -> (-29.2, 12.8)
  line L185 (-28.7, 12.3) -> (-26.5, 12.3)
  line L186 (-26.5, 12.3) -> (-26.5, 4.7)
  line L187 (-26.5, 4.7) -> (-28.7, 4.7)
  line L188 (-29.2, 4.2) -> (-29.2, -23.95)
  line L189 (-28.7, -24.45) -> (-22.3245, -24.45)
  line L190 (-11.565, 24.45) -> (14.015, 24.45) construction
  line L191 (19, 20.95) -> (60, 20.95)
  line L192 (65.3245, 24.45) -> (71.7, 24.45)
  line L193 (72.2, 23.95) -> (72.2, 12.8)
  line L194 (71.7, 12.3) -> (69.5, 12.3)
  line L195 (69.5, 12.3) -> (69.5, 4.7)
  line L196 (69.5, 4.7) -> (71.7, 4.7)
  line L197 (72.2, 4.2) -> (72.2, -23.95)
  line L198 (71.7, -24.45) -> (65.3245, -24.45)
  line L199 (60.0007, -20.95) -> (19, -20.95)
  line L200 (-11.565, -24.45) -> (14.015, -24.45) construction
  arc A84 (14.015, 24.45) -> (19, 20.95) centre (19, 26.25) ccw
  arc A85 (19, -20.95) -> (14.015, -24.45) centre (19, -26.25) ccw
  arc A86 (-16.55, 20.95) -> (-11.565, 24.45) centre (-16.55, 26.25) ccw
  arc A87 (-21.8655, 24.1483) -> (-17, 20.95) centre (-17, 26.25) ccw
  arc A88 (-11.565, -24.45) -> (-16.55, -20.95) centre (-16.55, -26.25) ccw
  arc A89 (60, 20.95) -> (64.8655, 24.1483) centre (60, 26.25) ccw
  arc A90 (64.8655, -24.1483) -> (60, -20.95) centre (60, -26.25) ccw
  line L201 (-22.3245, 24.45) -> (-28.7, 24.45)
  line L202 (-17, 20.95) -> (-16.55, 20.95)
  arc A91 (-17, -20.95) -> (-21.8655, -24.1483) centre (-17, -26.25) ccw
  line L203 (-17, -20.95) -> (-16.55, -20.95)
  line L204 (-11.565, 24.45) -> (-11.565, 25.75)
  line L205 (14.015, 24.45) -> (14.015, 25.75)
  line L206 (13.515, 26.25) -> (-11.065, 26.25)
  line L207 (14.015, -24.45) -> (14.015, -25.75)
  line L208 (-11.565, -24.45) -> (-11.565, -25.75)
  line L209 (13.515, -26.25) -> (-11.065, -26.25)
  arc A92 (72.2, 23.95) -> (71.7, 24.45) centre (71.7, 23.95) ccw
  arc A93 (71.7, 12.3) -> (72.2, 12.8) centre (71.7, 12.8) ccw
  arc A94 (72.2, 4.2) -> (71.7, 4.7) centre (71.7, 4.2) ccw
  arc A95 (71.7, -24.45) -> (72.2, -23.95) centre (71.7, -23.95) ccw
  arc A96 (13.515, -26.25) -> (14.015, -25.75) centre (13.515, -25.75) ccw
  arc A97 (-11.565, -25.75) -> (-11.065, -26.25) centre (-11.065, -25.75) ccw
  arc A98 (-29.2, -23.95) -> (-28.7, -24.45) centre (-28.7, -23.95) ccw
  arc A99 (-28.7, 4.7) -> (-29.2, 4.2) centre (-28.7, 4.2) ccw
  arc A100 (-29.2, 12.8) -> (-28.7, 12.3) centre (-28.7, 12.8) ccw
  arc A101 (-28.7, 24.45) -> (-29.2, 23.95) centre (-28.7, 23.95) ccw
  arc A102 (-11.065, 26.25) -> (-11.565, 25.75) centre (-11.065, 25.75) ccw
  arc A103 (14.015, 25.75) -> (13.515, 26.25) centre (13.515, 25.75) ccw
  arc A104 (64.8655, -24.1483) -> (65.3245, -24.45) centre (65.3245, -23.95) ccw
  arc A105 (-22.3245, -24.45) -> (-21.8655, -24.1483) centre (-22.3245, -23.95) ccw
  arc A106 (-21.8655, 24.1483) -> (-22.3245, 24.45) centre (-22.3245, 23.95) ccw
  arc A107 (65.3245, 24.45) -> (64.8655, 24.1483) centre (65.3245, 23.95) ccw
  line L210 (-6, -25.5) -> (6, -25.5)
  line L211 (8.5, -23) -> (8.5, 23)
  line L212 (6, 25.5) -> (-6, 25.5)
  line L213 (-8.5, 23) -> (-8.5, -23)
  line L214 (-8.5, -25.5) -> (8.5, 25.5) construction
  line L215 (8.5, -25.5) -> (-8.5, 25.5) construction
  arc A108 (6, -25.5) -> (8.5, -23) centre (6, -23) ccw
  arc A109 (8.5, 23) -> (6, 25.5) centre (6, 23) ccw
  arc A110 (-6, 25.5) -> (-8.5, 23) centre (-6, 23) ccw
  arc A111 (-8.5, -23) -> (-6, -25.5) centre (-6, -23) ccw
  circle A112 centre (-31, -26.25) radius 6
  circle A113 centre (-31, 26.25) radius 6
  circle A114 centre (74, -26.25) radius 6
  circle A115 centre (74, 26.25) radius 6
  point P0 (0, 0)
  point P1 (0, -17)
  point P2 (0, 0)
  point P3 (0, 17)
  point P4 (72.5, -8.5)
  dimension "d0" = 7
  dimension "d4" = 6
  dimension "d5" = 6
  dimension "d6" = 5
  dimension "d7" = 1.5
  dimension "d8" = 1.5
  dimension "d9" = 1.5
  dimension "d12" = 2.7
  dimension "d13" = 2.7
  dimension "d14" = 7
  dimension "d15" = 7
  dimension "d16" = 25
  dimension "d17" = 5
  dimension "d18" = 1.8
  dimension "d19" = 8
  dimension "d20" = 3
  dimension "d23" = 13
  dimension "d26" = 8
  dimension "d27" = 7
  dimension "d28" = 7
  dimension "d29" = 2
  dimension "d30" = 1.8
  dimension "d31" = 8
  dimension "d32" = 1.8
  dimension "d33" = 2.7
  dimension "d34" = 1.5
  dimension "d35" = 3
  dimension "d36" = 3
  dimension "d37" = 3
  dimension "d38" = 3
  dimension "d39" = 0.5
  dimension "d40" = 68
  dimension "d41" = 5.2
  dimension "d42" = 7
  dimension "d43" = 5.2
  dimension "d44" = 5.2
  dimension "d45" = 1.5
  dimension "d46" = 1.5
  dimension "sb" = 0.3
  dimension "d48" = 0.3
  dimension "d49" = 0.3
  dimension "d50" = 0.3
  dimension "d51" = 0.3
  dimension "d52" = 0.3
  dimension "d54" = 0.3
  dimension "d55" = 0.3
  dimension "d56" = 0.3
  dimension "d57" = 0.3
  dimension "d58" = 10.6
  dimension "d71" = 0.5
  dimension "d76" = 2
  dimension "d77" = 2
  dimension "d78" = 2.5
  dimension "d81" = 17
  dimension "d82" = 17
  dimension "d83" = 49.5
  dimension "d87" = 12
  dimension "d88" = 19
  dimension "d89" = 16.55
  dimension "d91" = 4
extrude "Extrusion1" add sketch "Sketch1" along normal blind 3 contours A101 L201 A113 L184 | A113 L201 A106 A87 L202 A86 L204 A102 L206 A103 L205 A84 L191 A89 A107 L192 A115 L193 A93 L194 L195 L196 A94 L197 A114 L198 A104 A90 L199 A85 L207 A96 L209 A97 L208 A88 L203 A91 A105 L189 A112 L188 A99 L187 L186 L185 A100 L184 | A112 L189 A98 L188 | L192 A92 L193 A115 | A114 L197 A95 L198 | A111 L213 A110 L212 A109 L211 A108 L210 picked at (-28.7631, 21.8652) picked at (-28.7631, -21.8652) picked at (69.6152, 24.0131) picked at (69.6152, -24.0131)
sketch "Sketch2" plane through (0, 3, 0) normal (0, 1, 0) x (1, 0, 0)
  arc A0 (-60, 13.5) -> (-60, 3.5) centre (-60, 8.5) ccw projected
  line L0 (-60, 13.5) -> (-19, 13.5) projected
  arc A1 (-19, 3.5) -> (-19, 13.5) centre (-19, 8.5) ccw projected
  line L1 (-19, 3.5) -> (-60, 3.5) projected
  line L2 (-60, -3.5) -> (-19, -3.5) projected
  arc A2 (-60, -3.5) -> (-60, -13.5) centre (-60, -8.5) ccw projected
  line L3 (-19, -13.5) -> (-60, -13.5) projected
  arc A3 (-19, -13.5) -> (-19, -3.5) centre (-19, -8.5) ccw projected
  arc A4 (16.55, 12.5) -> (16.55, 4.5) centre (16.55, 8.5) ccw projected
  line L4 (16.55, 12.5) -> (17, 12.5) projected
  arc A5 (17, 4.5) -> (17, 12.5) centre (17, 8.5) ccw projected
  line L5 (17, 4.5) -> (16.55, 4.5) projected
  arc A6 (16.5499, -4.5) -> (16.55, -12.5) centre (16.55, -8.5) ccw projected
  line L6 (16.5499, -4.5) -> (17, -4.5) projected
  arc A7 (17, -12.5) -> (17, -4.5) centre (17, -8.5) ccw projected
  line L7 (17, -12.5) -> (16.55, -12.5) projected
  arc A8 (-60, 12.5) -> (-60, 4.5) centre (-60, 8.5) ccw
  arc A9 (-19, 4.5) -> (-19, 12.5) centre (-19, 8.5) ccw
  arc A10 (-60, -4.5) -> (-60, -12.5) centre (-60, -8.5) ccw
  arc A11 (-19, -12.5) -> (-19, -4.5) centre (-19, -8.5) ccw
  arc A12 (16.55, 12.5) -> (16.775, 4.5063) centre (16.55, 8.5) ccw
  arc A13 (16.775, 4.5063) -> (17, 12.5) centre (17, 8.5) ccw
  arc A14 (16.55, -4.5) -> (16.55, -12.5) centre (16.55, -8.5) ccw
  arc A15 (17, -12.5) -> (17, -4.5) centre (17, -8.5) ccw
  line L8 (16.55, -4.5) -> (17, -4.5)
  line L9 (16.55, -12.5) -> (17, -12.5)
  line L10 (16.55, 12.5) -> (17, 12.5)
  line L11 (-60, 12.5) -> (-19, 12.5)
  line L12 (-60, 4.5) -> (-19, 4.5)
  line L13 (-60, -4.5) -> (-19, -4.5)
  line L14 (-60, -12.5) -> (-19, -12.5)
  point P0 (0, 0)
  dimension "d63" = 8
extrude "Extrusion2" [suppressed]
extrude "Extrusion3" add sketch "Sketch1" along normal blind 5.5 contours A111 L213 A110 L212 A109 L211 A108 L210
extrude "Extrusion4" [suppressed]
equation "\"d48\" = sb"
equation "\"d49\" = sb"
equation "\"d50\" = sb"
equation "\"d51\" = sb"
equation "\"d52\" = sb"
equation "\"d54\" = sb"
equation "\"d55\" = sb"
equation "\"d56\" = sb"
equation "\"d57\" = sb"
properties part number "Core_top-im"
